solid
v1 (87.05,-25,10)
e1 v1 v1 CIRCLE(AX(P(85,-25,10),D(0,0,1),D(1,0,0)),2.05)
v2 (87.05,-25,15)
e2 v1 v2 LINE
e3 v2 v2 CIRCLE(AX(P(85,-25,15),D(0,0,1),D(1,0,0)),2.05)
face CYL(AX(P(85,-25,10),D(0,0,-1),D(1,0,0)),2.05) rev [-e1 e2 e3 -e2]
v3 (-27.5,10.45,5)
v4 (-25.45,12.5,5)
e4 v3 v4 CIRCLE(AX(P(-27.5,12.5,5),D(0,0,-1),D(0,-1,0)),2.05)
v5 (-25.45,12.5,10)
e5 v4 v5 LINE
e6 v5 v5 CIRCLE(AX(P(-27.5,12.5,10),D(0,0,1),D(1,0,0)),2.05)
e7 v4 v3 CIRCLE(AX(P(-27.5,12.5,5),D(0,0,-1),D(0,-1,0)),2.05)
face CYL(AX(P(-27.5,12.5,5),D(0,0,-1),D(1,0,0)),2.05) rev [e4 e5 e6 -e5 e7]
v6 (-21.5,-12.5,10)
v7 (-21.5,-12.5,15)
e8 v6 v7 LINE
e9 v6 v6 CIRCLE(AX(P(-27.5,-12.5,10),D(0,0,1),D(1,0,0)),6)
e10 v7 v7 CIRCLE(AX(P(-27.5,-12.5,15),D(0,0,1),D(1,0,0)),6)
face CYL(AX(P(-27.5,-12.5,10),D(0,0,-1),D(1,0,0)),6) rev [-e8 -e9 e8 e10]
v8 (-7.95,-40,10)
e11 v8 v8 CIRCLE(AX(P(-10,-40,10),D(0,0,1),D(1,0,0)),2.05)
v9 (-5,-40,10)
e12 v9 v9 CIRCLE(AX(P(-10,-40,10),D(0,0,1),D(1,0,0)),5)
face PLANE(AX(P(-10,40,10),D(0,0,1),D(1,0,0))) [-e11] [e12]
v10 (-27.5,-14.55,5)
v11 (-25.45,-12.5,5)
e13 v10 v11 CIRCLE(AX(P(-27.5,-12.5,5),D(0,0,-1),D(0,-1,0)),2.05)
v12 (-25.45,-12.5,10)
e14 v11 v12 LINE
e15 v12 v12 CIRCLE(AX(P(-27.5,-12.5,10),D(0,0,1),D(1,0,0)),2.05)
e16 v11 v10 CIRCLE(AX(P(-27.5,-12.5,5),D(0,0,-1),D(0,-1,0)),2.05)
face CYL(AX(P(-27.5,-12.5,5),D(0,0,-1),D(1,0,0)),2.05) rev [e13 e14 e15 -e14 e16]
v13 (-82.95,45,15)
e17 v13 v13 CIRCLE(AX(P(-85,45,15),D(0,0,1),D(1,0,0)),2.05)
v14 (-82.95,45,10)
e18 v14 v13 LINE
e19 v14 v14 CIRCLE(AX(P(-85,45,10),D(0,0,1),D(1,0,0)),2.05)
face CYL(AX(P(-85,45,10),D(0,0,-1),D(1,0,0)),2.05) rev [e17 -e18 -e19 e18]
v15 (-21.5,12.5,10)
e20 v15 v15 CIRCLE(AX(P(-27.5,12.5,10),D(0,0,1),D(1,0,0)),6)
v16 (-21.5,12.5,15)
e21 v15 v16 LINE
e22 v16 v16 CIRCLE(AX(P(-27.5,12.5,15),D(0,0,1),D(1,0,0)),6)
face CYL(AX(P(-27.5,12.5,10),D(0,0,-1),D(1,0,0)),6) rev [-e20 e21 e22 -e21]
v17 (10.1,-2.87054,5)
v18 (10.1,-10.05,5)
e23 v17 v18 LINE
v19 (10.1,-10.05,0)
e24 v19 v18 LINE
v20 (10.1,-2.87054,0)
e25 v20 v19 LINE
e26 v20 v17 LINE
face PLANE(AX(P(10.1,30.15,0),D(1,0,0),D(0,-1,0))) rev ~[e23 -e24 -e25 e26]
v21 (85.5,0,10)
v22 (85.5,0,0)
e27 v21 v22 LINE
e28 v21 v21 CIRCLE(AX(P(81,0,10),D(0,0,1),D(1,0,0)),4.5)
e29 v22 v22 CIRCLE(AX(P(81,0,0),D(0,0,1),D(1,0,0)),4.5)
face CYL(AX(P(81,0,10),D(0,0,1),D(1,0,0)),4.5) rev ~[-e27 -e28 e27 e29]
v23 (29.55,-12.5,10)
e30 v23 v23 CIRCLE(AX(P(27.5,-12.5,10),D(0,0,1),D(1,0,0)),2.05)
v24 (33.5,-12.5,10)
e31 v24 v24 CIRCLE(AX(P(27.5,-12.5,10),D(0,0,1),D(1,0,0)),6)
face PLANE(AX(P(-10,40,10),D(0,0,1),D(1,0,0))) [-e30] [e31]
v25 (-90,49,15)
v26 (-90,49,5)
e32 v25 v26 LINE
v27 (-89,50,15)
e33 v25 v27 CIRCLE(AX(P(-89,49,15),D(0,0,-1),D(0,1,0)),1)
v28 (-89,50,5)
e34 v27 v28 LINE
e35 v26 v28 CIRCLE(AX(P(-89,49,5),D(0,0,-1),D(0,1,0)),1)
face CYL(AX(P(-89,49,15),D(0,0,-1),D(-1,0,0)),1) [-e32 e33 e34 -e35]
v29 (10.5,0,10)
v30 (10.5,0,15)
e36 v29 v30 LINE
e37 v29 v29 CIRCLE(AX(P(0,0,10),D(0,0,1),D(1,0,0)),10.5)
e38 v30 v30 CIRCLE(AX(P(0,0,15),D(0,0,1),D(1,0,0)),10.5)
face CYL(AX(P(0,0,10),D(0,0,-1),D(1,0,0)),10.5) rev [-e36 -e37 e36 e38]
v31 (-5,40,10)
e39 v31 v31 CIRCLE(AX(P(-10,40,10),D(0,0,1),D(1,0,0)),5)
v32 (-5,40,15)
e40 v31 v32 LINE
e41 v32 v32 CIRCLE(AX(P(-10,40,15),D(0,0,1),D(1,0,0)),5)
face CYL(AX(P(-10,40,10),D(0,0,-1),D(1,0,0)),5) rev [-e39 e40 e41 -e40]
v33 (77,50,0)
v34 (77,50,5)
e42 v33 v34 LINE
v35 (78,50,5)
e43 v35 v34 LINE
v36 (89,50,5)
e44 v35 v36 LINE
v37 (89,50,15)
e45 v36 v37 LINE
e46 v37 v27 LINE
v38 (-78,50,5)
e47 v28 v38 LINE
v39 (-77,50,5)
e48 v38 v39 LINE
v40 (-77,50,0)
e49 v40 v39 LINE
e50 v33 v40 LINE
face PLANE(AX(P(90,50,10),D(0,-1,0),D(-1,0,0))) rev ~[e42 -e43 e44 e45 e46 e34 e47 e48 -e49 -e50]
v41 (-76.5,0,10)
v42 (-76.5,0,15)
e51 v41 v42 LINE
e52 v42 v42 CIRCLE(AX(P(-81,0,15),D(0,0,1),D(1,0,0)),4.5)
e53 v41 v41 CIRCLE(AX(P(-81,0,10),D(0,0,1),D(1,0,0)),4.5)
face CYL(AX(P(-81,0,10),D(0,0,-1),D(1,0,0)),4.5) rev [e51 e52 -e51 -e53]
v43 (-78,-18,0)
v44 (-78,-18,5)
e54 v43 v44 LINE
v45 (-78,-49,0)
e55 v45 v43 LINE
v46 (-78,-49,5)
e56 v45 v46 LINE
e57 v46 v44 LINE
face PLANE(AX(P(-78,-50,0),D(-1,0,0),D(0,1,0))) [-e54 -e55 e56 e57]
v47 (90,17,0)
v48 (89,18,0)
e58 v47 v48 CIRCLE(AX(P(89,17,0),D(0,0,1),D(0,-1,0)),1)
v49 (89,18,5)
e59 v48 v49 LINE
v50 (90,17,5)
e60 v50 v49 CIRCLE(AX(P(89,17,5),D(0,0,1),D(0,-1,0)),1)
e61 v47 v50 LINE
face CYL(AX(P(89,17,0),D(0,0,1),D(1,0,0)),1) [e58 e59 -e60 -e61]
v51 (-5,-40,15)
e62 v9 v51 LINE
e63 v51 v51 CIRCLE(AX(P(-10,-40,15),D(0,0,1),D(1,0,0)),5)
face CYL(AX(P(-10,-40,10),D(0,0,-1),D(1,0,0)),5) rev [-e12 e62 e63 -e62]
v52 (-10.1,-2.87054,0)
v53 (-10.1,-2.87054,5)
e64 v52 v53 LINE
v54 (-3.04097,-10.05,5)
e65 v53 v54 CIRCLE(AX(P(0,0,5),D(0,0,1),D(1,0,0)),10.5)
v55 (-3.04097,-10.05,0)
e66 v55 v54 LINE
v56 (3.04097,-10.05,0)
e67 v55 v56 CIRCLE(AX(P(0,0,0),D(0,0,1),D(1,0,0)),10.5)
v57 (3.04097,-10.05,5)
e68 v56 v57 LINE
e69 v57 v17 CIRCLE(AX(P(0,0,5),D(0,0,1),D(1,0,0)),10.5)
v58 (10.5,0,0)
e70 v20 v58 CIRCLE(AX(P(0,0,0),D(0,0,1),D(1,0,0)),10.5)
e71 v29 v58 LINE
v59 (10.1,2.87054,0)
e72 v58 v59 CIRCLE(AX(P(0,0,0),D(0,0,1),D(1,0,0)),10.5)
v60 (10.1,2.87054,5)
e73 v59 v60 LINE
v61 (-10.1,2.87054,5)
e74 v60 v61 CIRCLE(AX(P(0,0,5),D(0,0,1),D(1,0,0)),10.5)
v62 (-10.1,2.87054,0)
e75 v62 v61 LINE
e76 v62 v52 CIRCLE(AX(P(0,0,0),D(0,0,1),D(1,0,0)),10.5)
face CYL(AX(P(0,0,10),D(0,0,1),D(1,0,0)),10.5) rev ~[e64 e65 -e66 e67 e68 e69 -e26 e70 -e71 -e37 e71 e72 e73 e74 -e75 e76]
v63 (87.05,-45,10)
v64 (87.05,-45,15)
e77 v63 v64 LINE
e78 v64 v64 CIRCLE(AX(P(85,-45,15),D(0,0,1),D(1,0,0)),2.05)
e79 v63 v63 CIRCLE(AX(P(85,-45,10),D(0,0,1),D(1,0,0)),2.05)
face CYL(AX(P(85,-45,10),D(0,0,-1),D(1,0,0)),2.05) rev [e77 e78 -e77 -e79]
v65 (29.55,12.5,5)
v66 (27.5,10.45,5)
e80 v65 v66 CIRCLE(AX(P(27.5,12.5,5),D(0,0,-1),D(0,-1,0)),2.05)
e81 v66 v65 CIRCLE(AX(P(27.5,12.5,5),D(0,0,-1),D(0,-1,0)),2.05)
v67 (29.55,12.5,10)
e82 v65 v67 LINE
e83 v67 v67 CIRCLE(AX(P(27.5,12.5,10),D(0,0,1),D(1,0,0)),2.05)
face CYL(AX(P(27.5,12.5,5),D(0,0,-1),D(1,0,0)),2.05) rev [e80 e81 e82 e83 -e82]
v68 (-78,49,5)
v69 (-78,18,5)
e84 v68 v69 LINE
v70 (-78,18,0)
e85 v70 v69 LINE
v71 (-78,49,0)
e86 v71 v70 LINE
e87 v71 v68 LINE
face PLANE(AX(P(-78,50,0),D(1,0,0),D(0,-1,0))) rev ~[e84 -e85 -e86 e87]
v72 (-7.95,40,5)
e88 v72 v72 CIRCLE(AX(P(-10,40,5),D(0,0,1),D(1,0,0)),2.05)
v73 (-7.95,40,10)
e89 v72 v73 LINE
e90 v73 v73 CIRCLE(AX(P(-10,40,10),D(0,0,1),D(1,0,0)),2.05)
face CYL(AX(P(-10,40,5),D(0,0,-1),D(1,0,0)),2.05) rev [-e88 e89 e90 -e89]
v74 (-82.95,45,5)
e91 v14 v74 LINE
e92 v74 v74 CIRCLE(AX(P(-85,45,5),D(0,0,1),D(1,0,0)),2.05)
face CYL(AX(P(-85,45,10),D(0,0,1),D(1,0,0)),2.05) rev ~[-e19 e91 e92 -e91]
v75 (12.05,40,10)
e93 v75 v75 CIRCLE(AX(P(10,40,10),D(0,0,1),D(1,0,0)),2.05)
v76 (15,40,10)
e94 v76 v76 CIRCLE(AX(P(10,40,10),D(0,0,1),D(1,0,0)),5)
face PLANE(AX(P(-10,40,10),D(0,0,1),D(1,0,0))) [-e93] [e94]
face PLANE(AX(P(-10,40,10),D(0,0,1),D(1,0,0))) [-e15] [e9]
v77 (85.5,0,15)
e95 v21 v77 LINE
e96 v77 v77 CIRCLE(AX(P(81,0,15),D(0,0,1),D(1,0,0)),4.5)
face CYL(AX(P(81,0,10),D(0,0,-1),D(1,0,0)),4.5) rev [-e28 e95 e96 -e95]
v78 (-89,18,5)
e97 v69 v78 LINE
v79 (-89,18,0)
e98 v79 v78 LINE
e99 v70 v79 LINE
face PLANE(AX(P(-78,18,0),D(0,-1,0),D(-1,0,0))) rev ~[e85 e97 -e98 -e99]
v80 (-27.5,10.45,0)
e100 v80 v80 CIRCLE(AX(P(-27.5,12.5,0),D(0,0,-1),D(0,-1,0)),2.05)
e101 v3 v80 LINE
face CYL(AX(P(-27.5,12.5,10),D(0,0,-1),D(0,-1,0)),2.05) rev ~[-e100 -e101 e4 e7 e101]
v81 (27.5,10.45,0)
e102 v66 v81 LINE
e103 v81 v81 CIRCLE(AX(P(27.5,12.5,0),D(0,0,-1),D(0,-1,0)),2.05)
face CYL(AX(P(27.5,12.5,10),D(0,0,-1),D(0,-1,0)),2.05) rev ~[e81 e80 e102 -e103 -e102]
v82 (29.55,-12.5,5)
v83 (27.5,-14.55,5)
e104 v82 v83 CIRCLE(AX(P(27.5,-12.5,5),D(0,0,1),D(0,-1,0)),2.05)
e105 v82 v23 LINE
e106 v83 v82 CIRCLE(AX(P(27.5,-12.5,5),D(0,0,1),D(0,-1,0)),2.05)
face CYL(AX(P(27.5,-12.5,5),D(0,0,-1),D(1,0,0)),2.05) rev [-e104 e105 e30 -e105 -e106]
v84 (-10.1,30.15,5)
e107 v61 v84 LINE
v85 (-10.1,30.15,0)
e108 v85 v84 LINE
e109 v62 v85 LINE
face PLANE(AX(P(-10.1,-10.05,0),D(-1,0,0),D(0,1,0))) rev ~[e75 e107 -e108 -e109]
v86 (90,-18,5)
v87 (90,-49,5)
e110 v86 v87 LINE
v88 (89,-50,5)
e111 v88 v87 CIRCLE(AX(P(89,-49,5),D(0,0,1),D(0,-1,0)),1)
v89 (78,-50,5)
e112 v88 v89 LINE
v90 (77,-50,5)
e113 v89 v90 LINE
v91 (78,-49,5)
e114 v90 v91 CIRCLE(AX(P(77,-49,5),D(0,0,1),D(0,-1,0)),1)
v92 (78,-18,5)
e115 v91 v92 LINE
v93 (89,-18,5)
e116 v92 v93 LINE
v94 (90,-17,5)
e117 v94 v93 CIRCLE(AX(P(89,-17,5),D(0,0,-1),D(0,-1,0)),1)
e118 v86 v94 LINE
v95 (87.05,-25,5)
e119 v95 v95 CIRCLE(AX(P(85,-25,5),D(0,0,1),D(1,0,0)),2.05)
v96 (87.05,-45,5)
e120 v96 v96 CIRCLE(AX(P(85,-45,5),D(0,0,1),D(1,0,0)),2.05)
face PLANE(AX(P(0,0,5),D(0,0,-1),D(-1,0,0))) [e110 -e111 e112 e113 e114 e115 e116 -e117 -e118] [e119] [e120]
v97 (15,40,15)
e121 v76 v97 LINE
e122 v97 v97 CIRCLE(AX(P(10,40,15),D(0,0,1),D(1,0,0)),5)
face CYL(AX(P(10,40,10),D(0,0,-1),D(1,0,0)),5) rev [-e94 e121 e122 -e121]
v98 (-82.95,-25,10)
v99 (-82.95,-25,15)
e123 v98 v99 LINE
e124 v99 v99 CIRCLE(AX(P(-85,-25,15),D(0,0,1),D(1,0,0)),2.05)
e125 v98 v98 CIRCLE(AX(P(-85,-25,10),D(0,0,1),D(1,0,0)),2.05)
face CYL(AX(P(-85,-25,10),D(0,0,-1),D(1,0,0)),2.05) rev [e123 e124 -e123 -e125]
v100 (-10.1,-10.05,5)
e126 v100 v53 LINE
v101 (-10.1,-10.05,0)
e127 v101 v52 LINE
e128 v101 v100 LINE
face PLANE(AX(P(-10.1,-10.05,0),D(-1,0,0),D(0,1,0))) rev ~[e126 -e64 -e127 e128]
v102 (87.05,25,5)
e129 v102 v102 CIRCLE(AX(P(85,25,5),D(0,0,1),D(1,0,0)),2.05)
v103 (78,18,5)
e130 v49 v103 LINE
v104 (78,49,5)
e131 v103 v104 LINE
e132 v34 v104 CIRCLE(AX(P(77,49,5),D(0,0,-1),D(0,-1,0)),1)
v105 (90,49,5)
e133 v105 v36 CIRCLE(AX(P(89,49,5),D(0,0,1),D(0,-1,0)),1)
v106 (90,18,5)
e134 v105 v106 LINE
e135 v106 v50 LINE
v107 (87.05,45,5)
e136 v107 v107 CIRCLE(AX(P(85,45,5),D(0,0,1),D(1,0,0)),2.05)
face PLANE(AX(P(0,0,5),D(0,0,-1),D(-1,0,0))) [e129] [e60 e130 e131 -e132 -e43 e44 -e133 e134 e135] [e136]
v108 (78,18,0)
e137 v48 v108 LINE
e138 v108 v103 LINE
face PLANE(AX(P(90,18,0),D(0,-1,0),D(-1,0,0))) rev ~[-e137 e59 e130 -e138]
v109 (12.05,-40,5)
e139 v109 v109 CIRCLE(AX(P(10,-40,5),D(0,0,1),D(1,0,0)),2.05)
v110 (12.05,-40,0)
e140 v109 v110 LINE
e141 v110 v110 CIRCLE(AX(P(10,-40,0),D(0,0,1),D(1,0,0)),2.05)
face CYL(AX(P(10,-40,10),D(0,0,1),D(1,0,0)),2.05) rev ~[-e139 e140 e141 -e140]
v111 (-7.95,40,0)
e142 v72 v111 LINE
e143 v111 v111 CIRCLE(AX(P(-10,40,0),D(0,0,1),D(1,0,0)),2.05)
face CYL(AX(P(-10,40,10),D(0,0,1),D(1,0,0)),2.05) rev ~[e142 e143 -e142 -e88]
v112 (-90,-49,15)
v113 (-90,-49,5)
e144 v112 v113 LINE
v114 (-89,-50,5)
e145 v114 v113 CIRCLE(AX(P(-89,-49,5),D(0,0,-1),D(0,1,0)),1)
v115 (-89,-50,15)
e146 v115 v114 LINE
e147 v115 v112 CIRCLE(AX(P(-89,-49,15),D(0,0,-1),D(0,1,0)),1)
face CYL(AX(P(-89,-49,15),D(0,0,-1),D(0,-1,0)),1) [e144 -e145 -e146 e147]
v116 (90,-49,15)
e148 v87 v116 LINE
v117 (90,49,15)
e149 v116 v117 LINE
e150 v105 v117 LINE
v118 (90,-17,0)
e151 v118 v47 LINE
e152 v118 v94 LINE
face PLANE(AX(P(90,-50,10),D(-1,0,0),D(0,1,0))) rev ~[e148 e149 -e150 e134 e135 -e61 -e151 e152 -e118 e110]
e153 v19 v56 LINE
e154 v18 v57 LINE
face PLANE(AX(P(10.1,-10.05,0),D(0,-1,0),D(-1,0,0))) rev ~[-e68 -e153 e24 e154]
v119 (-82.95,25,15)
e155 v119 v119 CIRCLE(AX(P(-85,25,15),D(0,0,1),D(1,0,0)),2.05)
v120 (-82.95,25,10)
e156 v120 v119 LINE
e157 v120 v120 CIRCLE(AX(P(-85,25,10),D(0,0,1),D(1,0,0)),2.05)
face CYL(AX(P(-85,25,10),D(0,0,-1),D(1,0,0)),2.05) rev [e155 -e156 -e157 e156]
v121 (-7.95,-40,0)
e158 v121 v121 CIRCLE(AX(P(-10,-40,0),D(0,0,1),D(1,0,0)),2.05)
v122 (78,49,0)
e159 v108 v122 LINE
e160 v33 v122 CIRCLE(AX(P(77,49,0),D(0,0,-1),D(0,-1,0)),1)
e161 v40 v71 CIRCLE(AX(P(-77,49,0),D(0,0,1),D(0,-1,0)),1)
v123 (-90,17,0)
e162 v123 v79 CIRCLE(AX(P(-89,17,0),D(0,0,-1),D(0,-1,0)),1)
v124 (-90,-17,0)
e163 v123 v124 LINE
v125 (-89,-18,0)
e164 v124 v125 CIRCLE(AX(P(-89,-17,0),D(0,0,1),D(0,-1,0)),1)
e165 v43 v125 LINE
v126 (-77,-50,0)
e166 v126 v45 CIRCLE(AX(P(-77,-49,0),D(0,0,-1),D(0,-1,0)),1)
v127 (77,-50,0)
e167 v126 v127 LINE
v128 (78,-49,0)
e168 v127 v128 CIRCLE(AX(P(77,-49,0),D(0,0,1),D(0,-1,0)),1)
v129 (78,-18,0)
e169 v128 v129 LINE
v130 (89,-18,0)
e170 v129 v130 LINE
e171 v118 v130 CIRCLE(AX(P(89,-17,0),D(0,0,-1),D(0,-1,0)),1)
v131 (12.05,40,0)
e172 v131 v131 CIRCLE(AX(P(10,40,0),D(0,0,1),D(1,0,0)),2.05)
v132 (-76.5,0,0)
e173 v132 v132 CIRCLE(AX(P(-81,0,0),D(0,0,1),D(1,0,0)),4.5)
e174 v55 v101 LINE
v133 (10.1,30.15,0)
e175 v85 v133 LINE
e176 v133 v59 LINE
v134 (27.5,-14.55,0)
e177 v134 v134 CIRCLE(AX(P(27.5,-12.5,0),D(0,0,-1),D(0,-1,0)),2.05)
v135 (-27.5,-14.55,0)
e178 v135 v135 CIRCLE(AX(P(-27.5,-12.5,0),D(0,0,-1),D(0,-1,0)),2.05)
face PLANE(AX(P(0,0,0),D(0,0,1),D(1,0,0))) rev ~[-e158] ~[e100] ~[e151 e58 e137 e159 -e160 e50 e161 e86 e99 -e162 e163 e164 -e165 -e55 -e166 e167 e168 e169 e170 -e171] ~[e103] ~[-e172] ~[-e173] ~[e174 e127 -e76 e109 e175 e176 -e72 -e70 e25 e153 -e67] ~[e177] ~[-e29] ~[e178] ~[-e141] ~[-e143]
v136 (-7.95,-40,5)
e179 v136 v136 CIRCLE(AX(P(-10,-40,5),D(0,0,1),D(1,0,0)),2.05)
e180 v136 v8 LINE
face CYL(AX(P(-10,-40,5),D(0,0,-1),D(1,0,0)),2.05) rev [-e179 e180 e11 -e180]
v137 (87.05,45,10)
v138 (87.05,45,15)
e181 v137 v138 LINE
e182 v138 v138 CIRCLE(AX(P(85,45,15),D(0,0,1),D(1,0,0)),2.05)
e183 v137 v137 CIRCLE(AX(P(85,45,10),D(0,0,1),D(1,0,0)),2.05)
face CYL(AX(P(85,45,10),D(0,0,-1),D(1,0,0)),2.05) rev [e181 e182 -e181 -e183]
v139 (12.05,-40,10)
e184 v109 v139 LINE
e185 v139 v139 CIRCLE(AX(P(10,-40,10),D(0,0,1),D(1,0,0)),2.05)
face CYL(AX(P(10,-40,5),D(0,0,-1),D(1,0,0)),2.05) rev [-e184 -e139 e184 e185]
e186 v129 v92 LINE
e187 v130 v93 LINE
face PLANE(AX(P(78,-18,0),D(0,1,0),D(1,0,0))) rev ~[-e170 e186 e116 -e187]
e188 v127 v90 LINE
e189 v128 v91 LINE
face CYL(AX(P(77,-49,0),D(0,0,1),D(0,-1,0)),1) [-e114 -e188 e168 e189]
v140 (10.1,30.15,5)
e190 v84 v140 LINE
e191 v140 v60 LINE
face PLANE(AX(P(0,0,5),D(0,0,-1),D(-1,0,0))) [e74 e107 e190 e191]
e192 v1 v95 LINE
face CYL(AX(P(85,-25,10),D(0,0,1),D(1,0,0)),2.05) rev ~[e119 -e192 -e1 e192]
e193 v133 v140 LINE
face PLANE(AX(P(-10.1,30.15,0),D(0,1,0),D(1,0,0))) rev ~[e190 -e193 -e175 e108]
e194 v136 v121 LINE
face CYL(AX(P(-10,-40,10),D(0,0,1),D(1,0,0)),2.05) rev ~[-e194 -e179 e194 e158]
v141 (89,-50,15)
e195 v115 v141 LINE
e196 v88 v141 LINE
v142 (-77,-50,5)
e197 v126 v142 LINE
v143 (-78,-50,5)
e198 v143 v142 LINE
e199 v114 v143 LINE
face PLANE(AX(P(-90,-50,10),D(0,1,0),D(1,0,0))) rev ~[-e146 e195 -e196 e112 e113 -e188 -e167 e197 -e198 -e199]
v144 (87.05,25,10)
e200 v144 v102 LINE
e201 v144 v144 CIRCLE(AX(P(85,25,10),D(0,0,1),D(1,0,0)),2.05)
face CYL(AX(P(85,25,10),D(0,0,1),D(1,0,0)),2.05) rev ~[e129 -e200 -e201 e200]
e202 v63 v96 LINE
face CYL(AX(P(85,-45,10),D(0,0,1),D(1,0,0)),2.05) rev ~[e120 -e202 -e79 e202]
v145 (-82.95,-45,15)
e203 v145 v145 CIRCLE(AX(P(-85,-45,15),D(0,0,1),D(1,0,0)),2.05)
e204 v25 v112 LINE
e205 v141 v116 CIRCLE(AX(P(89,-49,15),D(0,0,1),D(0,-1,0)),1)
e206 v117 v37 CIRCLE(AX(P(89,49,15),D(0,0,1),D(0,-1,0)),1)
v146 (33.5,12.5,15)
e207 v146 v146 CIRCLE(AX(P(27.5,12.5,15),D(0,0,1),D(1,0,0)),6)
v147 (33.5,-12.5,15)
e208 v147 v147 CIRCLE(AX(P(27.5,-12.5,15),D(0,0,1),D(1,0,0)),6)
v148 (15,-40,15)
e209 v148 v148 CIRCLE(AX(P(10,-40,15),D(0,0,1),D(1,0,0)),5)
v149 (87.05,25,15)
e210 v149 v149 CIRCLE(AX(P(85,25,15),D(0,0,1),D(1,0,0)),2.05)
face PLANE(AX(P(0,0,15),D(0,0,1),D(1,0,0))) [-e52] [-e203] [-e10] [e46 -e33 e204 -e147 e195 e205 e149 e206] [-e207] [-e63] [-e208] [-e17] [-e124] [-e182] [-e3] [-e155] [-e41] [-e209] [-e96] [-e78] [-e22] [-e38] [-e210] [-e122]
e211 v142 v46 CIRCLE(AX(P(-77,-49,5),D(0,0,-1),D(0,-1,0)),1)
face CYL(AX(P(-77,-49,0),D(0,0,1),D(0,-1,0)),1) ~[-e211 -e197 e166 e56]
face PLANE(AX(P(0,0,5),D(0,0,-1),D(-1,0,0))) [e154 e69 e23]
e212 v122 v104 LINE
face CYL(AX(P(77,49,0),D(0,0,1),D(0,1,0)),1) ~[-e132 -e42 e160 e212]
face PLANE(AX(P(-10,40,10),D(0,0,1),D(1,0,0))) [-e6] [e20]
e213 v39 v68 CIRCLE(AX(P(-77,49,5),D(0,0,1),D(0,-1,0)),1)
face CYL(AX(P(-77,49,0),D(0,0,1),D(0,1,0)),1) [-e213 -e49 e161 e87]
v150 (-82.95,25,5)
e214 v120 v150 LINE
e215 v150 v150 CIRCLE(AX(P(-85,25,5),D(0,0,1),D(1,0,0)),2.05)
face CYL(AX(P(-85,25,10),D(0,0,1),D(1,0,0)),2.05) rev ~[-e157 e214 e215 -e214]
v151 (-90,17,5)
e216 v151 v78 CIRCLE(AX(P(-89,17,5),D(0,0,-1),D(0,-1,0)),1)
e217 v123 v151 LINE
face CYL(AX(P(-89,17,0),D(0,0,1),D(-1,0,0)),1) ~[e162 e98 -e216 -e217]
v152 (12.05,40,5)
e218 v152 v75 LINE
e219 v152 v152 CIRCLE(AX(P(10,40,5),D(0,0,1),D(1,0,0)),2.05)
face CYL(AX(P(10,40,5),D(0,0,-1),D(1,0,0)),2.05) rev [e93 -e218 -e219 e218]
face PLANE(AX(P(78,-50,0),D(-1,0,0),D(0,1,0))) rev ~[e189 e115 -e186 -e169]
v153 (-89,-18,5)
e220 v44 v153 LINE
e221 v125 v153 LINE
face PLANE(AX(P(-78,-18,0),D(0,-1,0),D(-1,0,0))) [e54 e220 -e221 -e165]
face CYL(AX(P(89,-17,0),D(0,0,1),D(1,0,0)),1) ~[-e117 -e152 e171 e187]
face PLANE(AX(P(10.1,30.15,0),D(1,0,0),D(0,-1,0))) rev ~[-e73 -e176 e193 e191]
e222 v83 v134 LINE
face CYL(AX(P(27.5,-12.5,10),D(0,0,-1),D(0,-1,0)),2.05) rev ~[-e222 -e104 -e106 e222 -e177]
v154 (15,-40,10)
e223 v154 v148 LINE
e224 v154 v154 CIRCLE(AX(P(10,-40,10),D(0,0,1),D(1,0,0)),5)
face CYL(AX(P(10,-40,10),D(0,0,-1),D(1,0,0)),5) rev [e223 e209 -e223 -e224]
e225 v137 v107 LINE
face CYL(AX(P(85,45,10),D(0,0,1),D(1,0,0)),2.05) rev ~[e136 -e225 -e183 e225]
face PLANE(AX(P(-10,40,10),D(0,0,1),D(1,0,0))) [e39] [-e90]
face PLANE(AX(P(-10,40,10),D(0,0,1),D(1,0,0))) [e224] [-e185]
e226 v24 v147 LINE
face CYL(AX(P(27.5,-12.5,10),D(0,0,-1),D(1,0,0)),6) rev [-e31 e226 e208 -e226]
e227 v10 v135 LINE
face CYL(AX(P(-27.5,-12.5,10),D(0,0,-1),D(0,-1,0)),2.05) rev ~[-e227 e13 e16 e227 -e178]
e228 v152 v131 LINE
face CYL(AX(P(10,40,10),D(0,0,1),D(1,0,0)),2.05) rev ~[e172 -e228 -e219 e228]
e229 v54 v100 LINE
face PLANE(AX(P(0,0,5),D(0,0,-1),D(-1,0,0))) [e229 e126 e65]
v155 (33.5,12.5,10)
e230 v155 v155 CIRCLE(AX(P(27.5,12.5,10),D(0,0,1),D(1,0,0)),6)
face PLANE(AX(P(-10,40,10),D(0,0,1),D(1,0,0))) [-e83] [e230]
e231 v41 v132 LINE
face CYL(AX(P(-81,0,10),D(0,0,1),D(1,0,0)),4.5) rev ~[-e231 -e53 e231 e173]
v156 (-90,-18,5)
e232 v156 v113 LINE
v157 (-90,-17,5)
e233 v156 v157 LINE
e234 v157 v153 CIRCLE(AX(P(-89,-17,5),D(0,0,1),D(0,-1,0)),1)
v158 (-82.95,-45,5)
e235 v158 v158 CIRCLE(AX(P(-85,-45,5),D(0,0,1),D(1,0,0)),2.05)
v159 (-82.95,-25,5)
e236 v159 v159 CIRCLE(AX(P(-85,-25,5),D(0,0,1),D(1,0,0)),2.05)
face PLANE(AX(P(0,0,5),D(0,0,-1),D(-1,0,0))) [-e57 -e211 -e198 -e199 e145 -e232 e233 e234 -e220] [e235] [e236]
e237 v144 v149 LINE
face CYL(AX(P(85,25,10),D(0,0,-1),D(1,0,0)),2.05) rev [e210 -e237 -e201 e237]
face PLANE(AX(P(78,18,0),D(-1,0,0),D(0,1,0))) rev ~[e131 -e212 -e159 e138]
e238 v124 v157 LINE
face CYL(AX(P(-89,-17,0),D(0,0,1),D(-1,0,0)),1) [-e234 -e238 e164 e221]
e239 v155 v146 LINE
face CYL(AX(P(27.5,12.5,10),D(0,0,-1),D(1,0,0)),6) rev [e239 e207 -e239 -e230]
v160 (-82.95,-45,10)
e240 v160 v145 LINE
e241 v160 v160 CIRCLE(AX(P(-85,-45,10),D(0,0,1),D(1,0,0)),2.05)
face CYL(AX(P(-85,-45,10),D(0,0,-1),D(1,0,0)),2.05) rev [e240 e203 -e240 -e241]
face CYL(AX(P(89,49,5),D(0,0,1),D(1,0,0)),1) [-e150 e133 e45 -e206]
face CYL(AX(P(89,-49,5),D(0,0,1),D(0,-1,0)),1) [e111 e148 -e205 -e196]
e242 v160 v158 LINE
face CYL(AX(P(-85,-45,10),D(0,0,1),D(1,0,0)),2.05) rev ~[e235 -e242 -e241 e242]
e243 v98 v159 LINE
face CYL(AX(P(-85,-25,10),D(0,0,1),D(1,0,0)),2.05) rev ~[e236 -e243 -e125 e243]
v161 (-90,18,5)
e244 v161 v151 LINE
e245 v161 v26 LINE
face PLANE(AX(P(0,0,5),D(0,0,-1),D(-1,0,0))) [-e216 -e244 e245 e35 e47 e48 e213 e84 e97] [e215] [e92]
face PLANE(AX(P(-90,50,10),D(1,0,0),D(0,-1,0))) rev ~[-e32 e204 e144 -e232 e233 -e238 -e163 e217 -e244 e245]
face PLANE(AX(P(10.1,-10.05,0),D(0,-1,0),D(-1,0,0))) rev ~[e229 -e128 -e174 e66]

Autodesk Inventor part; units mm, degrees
ref_plane "YZ Plane" through (0, 0, 0) normal (1, 0, 0) x (0, 1, 0)
ref_plane "XZ Plane" through (0, 0, 0) normal (0, 1, 0) x (-1, 0, 0)
ref_plane "XY Plane" through (0, 0, 0) normal (0, 0, 1) x (1, 0, 0)
sketch "Sketch1" plane through (0, 0, 0) normal (0, 0, 1) x (1, 0, 0)
  line L0 (-90, -50) -> (90, -50)
  line L1 (90, -50) -> (90, 50)
  line L2 (90, 50) -> (-90, 50)
  line L3 (-90, 50) -> (-90, -50)
  line L4 (-90, -50) -> (90, 50) construction
  line L5 (90, -50) -> (-90, 50) construction
  point P0 (0, 0)
  dimension "d0" = 180
  dimension "d1" = 100
extrude "Extrusion1" add sketch "Sketch1" along normal blind 10
sketch "Sketch2" plane through (0, 0, 10) normal (0, 0, 1) x (1, 0, 0)
  circle A0 centre (0, 0) radius 10.5
  dimension "d4" = 21
extrude "Extrusion2" cut sketch "Sketch2" against normal through all
sketch "Sketch3" plane through (0, 0, 0) normal (0, 0, -1) x (-1, 0, 0)
  line L0 (-90, 18) -> (-78, 18)
  line L1 (-78, 18) -> (-78, 50)
  line L2 (-78, 50) -> (-90, 50)
  line L3 (-90, 50) -> (-90, 18)
  line L4 (78, 18) -> (90, 18)
  line L5 (90, 18) -> (90, 50)
  line L6 (90, 50) -> (78, 50)
  line L7 (78, 50) -> (78, 18)
  line L8 (78, -18) -> (90, -18)
  line L9 (90, -18) -> (90, -50)
  line L10 (90, -50) -> (78, -50)
  line L11 (78, -50) -> (78, -18)
  line L12 (-78, -18) -> (-90, -18)
  line L13 (-90, -18) -> (-90, -50)
  line L14 (-90, -50) -> (-78, -50)
  line L15 (-78, -50) -> (-78, -18)
  line L16 (-90, -50) -> (-90, 50) projected
  line L17 (-90, 50) -> (90, 50) projected
  line L18 (90, -50) -> (-90, -50) projected
  line L19 (90, 50) -> (90, -50) projected
  point P0 (0, 0)
  dimension "d7" = 32
  dimension "d8" = 12
  dimension "d9" = 12
  dimension "d10" = 32
  dimension "d11" = 12
  dimension "d12" = 32
  dimension "d13" = 12
  dimension "d14" = 32
extrude "Extrusion3" cut sketch "Sketch3" against normal blind 5 contours L3 L2 L1 L0 | L12 L15 L14 L13 | L6 L5 L4 L7 | L11 L8 L9 L10
sketch "Sketch4" plane through (0, 0, 10) normal (0, 0, 1) x (1, 0, 0)
  circle A0 centre (95, 45) radius 2.05 projected
  circle A1 centre (95, -45) radius 2.05 projected
  circle A2 centre (95, -25) radius 2.05 projected
  circle A3 centre (95, 25) radius 2.05 projected
  circle A4 centre (-95, 45) radius 2.05 projected
  circle A5 centre (-95, 25) radius 2.05 projected
  circle A6 centre (-95, -45) radius 2.05 projected
  circle A7 centre (-95, -25) radius 2.05 projected
  point P0 (0, 0)
hole "Hole1" at (95, 45, 10) at (95, 25, 10) at (95, -25, 10) at (95, -45, 10) at (-95, 45, 10) at (-95, 25, 10) at (-95, -25, 10) at (-95, -45, 10) direction (0, 0, -1) diameter 4.1 end through all
sketch "Sketch5" plane through (0, 0, 0) normal (0, 0, -1) x (-1, 0, 0)
  point P0 (0, 0)
sketch "Sketch6" plane through (0, 0, 0) normal (0, 0, -1) x (-1, 0, 0)
  line L0 (-10.1, -10.05) -> (10.1, -10.05)
  line L1 (10.1, -10.05) -> (10.1, 30.15)
  line L2 (10.1, 30.15) -> (-10.1, 30.15)
  line L3 (-10.1, 30.15) -> (-10.1, -10.05)
  line L4 (-10.1, -10.05) -> (10.1, 30.15) construction
  line L5 (10.1, -10.05) -> (-10.1, 30.15) construction
  point P0 (0, 0)
  point P1 (0, 10.05)
  dimension "d24" = 20.2
  dimension "d25" = 40.2
  dimension "d26" = 10.05
extrude "Extrusion4" cut sketch "Sketch6" against normal blind 5
sketch "Sketch7" plane through (0, 0, 10) normal (0, 0, 1) x (1, 0, 0)
  circle A0 centre (27.5, 12.5) radius 2.05 projected
  circle A1 centre (27.5, -12.5) radius 2.05 projected
  circle A2 centre (-27.5, 12.5) radius 2.05 projected
  circle A3 centre (-27.5, -12.5) radius 2.05 projected
  point P0 (0, 0)
hole "Hole2" at (-27.5, 12.5, 10) at (27.5, 12.5, 10) at (27.5, -12.5, 10) at (-27.5, -12.5, 10) direction (0, 0, -1) diameter 4.1 end through all
sketch "Sketch8" plane through (0, 0, 10) normal (0, 0, 1) x (1, 0, 0)
  circle A0 centre (-27.5, 12.5) radius 2.05 projected
  circle A1 centre (27.5, 12.5) radius 2.05 projected
  circle A2 centre (27.5, -12.5) radius 2.05 projected
  circle A3 centre (-27.5, -12.5) radius 2.05 projected
  circle A4 centre (-27.5, 12.5) radius 6
  circle A5 centre (27.5, 12.5) radius 6
  circle A6 centre (-27.5, -12.5) radius 6
  circle A7 centre (27.5, -12.5) radius 6
  point P0 (0, 0)
  dimension "d36" = 12
  dimension "d37" = 12
  dimension "d38" = 12
  dimension "d39" = 12
extrude "Extrusion5" cut sketch "Sketch8" against normal blind 5 contours A0 | A1 | A3 | A4 | A5 | A6 | A7
sketch "Sketch9" plane through (0, 0, 10) normal (0, 0, 1) x (1, 0, 0)
  circle A0 centre (-85, 45) radius 2.05
  circle A1 centre (-85, 25) radius 2.05
  circle A2 centre (-85, -25) radius 2.05
  circle A3 centre (-85, -45) radius 2.05
  circle A4 centre (85, 45) radius 2.05
  circle A5 centre (85, 25) radius 2.05
  circle A6 centre (85, -25) radius 2.05
  circle A7 centre (85, -45) radius 2.05
  line L0 (90, 50) -> (-90, 50) projected
  line L1 (-90, -50) -> (90, -50) projected
  line L2 (-90, 50) -> (-90, -50) projected
  line L3 (90, -50) -> (90, 50) projected
  point P0 (0, 0)
  dimension "d42" = 4.1
  dimension "d43" = 4.1
  dimension "d44" = 4.1
  dimension "d45" = 4.1
  dimension "d46" = 4.1
  dimension "d47" = 4.1
  dimension "d48" = 4.1
  dimension "d49" = 4.1
  dimension "d50" = 5
  dimension "d51" = 25
  dimension "d52" = 25
  dimension "d53" = 5
  dimension "d54" = 5
  dimension "d55" = 25
  dimension "d56" = 25
  dimension "d57" = 5
  dimension "d58" = 5
  dimension "d59" = 5
  dimension "d60" = 5
  dimension "d61" = 5
  dimension "d62" = 5
  dimension "d63" = 5
  dimension "d64" = 5
  dimension "d65" = 5
extrude "Extrusion6" cut sketch "Sketch9" against normal through all contours A0 | A1 | A2 | A3 | A4 | A5 | A6 | A7
sketch "Sketch10" plane through (0, 0, 10) normal (0, 0, 1) x (1, 0, 0)
  circle A0 centre (81, 0) radius 4.5
  circle A1 centre (-81, 0) radius 4.5
  line L0 (90, -50) -> (90, 50) projected
  line L1 (-90, 50) -> (-90, -50) projected
  point P0 (0, 0)
  dimension "d68" = 9
  dimension "d69" = 9
  dimension "d70" = 9
  dimension "d71" = 9
extrude "Extrusion7" cut sketch "Sketch10" against normal blind 10
sketch "Sketch11" plane through (0, 0, 10) normal (0, 0, 1) x (1, 0, 0)
  circle A0 centre (-10, 40) radius 2.05
  circle A1 centre (10, 40) radius 2.05
  circle A2 centre (-10, -40) radius 2.05
  circle A3 centre (10, -40) radius 2.05
  line L0 (90, 50) -> (-90, 50) projected
  line L1 (-90, -50) -> (90, -50) projected
  point P0 (0, 0)
  dimension "d74" = 4.1
  dimension "d75" = 4.1
  dimension "d76" = 4.1
  dimension "d77" = 4.1
  dimension "d78" = 10
  dimension "d79" = 10
  dimension "d80" = 10
  dimension "d81" = 10
  dimension "d82" = 10
  dimension "d83" = 10
  dimension "d84" = 10
  dimension "d85" = 10
extrude "Extrusion8" cut sketch "Sketch11" against normal blind 10
sketch "Sketch12" plane through (0, 0, 10) normal (0, 0, 1) x (1, 0, 0)
  circle A0 centre (-10, 40) radius 2.05 projected
  circle A1 centre (10, 40) radius 2.05 projected
  circle A2 centre (-10, -40) radius 2.05 projected
  circle A3 centre (10, -40) radius 2.05 projected
  circle A4 centre (10, 40) radius 5
  circle A5 centre (-10, 40) radius 5
  circle A6 centre (10, -40) radius 5
  circle A7 centre (-10, -40) radius 5
  point P0 (0, 0)
  dimension "d88" = 10
  dimension "d89" = 10
  dimension "d90" = 10
  dimension "d91" = 10
extrude "Extrusion9" cut sketch "Sketch12" against normal blind 5 contours A0 | A1 | A2 | A3 | A4 | A5 | A6 | A7
sketch "Sketch13" plane through (0, 0, 10) normal (0, 0, 1) x (1, 0, 0)
  circle A0 centre (10, -40) radius 5 projected
  circle A1 centre (10, 40) radius 5 projected
  circle A2 centre (-10, -40) radius 5 projected
  circle A3 centre (-10, 40) radius 5 projected
  circle A4 centre (81, 0) radius 4.5 projected
  circle A5 centre (-81, 0) radius 4.5 projected
  circle A6 centre (-85, -25) radius 2.05 projected
  circle A7 centre (85, -25) radius 2.05 projected
  circle A8 centre (85, 25) radius 2.05 projected
  circle A9 centre (-85, 25) radius 2.05 projected
  circle A10 centre (-85, -45) radius 2.05 projected
  circle A11 centre (85, -45) radius 2.05 projected
  circle A12 centre (85, 45) radius 2.05 projected
  circle A13 centre (-85, 45) radius 2.05 projected
  circle A14 centre (27.5, -12.5) radius 6 projected
  circle A15 centre (27.5, 12.5) radius 6 projected
  circle A16 centre (-27.5, -12.5) radius 6 projected
  circle A17 centre (-27.5, 12.5) radius 6 projected
  circle A18 centre (0, 0) radius 10.5 projected
  line L0 (90, -50) -> (90, 50) projected
  line L1 (90, 50) -> (-90, 50) projected
  line L2 (-90, 50) -> (-90, -50) projected
  line L3 (-90, -50) -> (90, -50) projected
extrude "Extrusion10" add sketch "Sketch13" along normal blind 5
sketch "Sketch14" plane through (-10, 40, 5) normal (0, 0, 1) x (1, 0, 0)
  circle A0 centre (0, 0) radius 2.05 projected
  circle A1 centre (0, 0) radius 5 projected
  circle A2 centre (20, 0) radius 2.05 projected
  circle A3 centre (20, 0) radius 5 projected
  circle A4 centre (-17.5, -27.5) radius 2.05 projected
  circle A5 centre (-17.5, -27.5) radius 6 projected
  circle A6 centre (37.5, -27.5) radius 2.05 projected
  circle A7 centre (37.5, -27.5) radius 6 projected
  circle A8 centre (-17.5, -52.5) radius 2.05 projected
  circle A9 centre (-17.5, -52.5) radius 6 projected
  circle A10 centre (37.5, -52.5) radius 6 projected
  circle A11 centre (37.5, -52.5) radius 2.05 projected
  circle A12 centre (0, -80) radius 2.05 projected
  circle A13 centre (0, -80) radius 5 projected
  circle A14 centre (20, -80) radius 2.05 projected
  circle A15 centre (20, -80) radius 5 projected
  point P0 (10, -40)
extrude "Extrusion11" add sketch "Sketch14" along normal blind 5
fillet "Fillet1" radius 1 12 edges at (90, 50, 10) (90, -50, 10) (-90, -50, 10) (-90, 50, 10) (90, -18, 2.5) (90, 18, 2.5) (78, -50, 2.5) (78, 50, 2.5) (-90, 18, 2.5) (-90, -18, 2.5) (-78, -50, 2.5) (-78, 50, 2.5)
properties part number "gripper_base" material "ABS Plastic"
